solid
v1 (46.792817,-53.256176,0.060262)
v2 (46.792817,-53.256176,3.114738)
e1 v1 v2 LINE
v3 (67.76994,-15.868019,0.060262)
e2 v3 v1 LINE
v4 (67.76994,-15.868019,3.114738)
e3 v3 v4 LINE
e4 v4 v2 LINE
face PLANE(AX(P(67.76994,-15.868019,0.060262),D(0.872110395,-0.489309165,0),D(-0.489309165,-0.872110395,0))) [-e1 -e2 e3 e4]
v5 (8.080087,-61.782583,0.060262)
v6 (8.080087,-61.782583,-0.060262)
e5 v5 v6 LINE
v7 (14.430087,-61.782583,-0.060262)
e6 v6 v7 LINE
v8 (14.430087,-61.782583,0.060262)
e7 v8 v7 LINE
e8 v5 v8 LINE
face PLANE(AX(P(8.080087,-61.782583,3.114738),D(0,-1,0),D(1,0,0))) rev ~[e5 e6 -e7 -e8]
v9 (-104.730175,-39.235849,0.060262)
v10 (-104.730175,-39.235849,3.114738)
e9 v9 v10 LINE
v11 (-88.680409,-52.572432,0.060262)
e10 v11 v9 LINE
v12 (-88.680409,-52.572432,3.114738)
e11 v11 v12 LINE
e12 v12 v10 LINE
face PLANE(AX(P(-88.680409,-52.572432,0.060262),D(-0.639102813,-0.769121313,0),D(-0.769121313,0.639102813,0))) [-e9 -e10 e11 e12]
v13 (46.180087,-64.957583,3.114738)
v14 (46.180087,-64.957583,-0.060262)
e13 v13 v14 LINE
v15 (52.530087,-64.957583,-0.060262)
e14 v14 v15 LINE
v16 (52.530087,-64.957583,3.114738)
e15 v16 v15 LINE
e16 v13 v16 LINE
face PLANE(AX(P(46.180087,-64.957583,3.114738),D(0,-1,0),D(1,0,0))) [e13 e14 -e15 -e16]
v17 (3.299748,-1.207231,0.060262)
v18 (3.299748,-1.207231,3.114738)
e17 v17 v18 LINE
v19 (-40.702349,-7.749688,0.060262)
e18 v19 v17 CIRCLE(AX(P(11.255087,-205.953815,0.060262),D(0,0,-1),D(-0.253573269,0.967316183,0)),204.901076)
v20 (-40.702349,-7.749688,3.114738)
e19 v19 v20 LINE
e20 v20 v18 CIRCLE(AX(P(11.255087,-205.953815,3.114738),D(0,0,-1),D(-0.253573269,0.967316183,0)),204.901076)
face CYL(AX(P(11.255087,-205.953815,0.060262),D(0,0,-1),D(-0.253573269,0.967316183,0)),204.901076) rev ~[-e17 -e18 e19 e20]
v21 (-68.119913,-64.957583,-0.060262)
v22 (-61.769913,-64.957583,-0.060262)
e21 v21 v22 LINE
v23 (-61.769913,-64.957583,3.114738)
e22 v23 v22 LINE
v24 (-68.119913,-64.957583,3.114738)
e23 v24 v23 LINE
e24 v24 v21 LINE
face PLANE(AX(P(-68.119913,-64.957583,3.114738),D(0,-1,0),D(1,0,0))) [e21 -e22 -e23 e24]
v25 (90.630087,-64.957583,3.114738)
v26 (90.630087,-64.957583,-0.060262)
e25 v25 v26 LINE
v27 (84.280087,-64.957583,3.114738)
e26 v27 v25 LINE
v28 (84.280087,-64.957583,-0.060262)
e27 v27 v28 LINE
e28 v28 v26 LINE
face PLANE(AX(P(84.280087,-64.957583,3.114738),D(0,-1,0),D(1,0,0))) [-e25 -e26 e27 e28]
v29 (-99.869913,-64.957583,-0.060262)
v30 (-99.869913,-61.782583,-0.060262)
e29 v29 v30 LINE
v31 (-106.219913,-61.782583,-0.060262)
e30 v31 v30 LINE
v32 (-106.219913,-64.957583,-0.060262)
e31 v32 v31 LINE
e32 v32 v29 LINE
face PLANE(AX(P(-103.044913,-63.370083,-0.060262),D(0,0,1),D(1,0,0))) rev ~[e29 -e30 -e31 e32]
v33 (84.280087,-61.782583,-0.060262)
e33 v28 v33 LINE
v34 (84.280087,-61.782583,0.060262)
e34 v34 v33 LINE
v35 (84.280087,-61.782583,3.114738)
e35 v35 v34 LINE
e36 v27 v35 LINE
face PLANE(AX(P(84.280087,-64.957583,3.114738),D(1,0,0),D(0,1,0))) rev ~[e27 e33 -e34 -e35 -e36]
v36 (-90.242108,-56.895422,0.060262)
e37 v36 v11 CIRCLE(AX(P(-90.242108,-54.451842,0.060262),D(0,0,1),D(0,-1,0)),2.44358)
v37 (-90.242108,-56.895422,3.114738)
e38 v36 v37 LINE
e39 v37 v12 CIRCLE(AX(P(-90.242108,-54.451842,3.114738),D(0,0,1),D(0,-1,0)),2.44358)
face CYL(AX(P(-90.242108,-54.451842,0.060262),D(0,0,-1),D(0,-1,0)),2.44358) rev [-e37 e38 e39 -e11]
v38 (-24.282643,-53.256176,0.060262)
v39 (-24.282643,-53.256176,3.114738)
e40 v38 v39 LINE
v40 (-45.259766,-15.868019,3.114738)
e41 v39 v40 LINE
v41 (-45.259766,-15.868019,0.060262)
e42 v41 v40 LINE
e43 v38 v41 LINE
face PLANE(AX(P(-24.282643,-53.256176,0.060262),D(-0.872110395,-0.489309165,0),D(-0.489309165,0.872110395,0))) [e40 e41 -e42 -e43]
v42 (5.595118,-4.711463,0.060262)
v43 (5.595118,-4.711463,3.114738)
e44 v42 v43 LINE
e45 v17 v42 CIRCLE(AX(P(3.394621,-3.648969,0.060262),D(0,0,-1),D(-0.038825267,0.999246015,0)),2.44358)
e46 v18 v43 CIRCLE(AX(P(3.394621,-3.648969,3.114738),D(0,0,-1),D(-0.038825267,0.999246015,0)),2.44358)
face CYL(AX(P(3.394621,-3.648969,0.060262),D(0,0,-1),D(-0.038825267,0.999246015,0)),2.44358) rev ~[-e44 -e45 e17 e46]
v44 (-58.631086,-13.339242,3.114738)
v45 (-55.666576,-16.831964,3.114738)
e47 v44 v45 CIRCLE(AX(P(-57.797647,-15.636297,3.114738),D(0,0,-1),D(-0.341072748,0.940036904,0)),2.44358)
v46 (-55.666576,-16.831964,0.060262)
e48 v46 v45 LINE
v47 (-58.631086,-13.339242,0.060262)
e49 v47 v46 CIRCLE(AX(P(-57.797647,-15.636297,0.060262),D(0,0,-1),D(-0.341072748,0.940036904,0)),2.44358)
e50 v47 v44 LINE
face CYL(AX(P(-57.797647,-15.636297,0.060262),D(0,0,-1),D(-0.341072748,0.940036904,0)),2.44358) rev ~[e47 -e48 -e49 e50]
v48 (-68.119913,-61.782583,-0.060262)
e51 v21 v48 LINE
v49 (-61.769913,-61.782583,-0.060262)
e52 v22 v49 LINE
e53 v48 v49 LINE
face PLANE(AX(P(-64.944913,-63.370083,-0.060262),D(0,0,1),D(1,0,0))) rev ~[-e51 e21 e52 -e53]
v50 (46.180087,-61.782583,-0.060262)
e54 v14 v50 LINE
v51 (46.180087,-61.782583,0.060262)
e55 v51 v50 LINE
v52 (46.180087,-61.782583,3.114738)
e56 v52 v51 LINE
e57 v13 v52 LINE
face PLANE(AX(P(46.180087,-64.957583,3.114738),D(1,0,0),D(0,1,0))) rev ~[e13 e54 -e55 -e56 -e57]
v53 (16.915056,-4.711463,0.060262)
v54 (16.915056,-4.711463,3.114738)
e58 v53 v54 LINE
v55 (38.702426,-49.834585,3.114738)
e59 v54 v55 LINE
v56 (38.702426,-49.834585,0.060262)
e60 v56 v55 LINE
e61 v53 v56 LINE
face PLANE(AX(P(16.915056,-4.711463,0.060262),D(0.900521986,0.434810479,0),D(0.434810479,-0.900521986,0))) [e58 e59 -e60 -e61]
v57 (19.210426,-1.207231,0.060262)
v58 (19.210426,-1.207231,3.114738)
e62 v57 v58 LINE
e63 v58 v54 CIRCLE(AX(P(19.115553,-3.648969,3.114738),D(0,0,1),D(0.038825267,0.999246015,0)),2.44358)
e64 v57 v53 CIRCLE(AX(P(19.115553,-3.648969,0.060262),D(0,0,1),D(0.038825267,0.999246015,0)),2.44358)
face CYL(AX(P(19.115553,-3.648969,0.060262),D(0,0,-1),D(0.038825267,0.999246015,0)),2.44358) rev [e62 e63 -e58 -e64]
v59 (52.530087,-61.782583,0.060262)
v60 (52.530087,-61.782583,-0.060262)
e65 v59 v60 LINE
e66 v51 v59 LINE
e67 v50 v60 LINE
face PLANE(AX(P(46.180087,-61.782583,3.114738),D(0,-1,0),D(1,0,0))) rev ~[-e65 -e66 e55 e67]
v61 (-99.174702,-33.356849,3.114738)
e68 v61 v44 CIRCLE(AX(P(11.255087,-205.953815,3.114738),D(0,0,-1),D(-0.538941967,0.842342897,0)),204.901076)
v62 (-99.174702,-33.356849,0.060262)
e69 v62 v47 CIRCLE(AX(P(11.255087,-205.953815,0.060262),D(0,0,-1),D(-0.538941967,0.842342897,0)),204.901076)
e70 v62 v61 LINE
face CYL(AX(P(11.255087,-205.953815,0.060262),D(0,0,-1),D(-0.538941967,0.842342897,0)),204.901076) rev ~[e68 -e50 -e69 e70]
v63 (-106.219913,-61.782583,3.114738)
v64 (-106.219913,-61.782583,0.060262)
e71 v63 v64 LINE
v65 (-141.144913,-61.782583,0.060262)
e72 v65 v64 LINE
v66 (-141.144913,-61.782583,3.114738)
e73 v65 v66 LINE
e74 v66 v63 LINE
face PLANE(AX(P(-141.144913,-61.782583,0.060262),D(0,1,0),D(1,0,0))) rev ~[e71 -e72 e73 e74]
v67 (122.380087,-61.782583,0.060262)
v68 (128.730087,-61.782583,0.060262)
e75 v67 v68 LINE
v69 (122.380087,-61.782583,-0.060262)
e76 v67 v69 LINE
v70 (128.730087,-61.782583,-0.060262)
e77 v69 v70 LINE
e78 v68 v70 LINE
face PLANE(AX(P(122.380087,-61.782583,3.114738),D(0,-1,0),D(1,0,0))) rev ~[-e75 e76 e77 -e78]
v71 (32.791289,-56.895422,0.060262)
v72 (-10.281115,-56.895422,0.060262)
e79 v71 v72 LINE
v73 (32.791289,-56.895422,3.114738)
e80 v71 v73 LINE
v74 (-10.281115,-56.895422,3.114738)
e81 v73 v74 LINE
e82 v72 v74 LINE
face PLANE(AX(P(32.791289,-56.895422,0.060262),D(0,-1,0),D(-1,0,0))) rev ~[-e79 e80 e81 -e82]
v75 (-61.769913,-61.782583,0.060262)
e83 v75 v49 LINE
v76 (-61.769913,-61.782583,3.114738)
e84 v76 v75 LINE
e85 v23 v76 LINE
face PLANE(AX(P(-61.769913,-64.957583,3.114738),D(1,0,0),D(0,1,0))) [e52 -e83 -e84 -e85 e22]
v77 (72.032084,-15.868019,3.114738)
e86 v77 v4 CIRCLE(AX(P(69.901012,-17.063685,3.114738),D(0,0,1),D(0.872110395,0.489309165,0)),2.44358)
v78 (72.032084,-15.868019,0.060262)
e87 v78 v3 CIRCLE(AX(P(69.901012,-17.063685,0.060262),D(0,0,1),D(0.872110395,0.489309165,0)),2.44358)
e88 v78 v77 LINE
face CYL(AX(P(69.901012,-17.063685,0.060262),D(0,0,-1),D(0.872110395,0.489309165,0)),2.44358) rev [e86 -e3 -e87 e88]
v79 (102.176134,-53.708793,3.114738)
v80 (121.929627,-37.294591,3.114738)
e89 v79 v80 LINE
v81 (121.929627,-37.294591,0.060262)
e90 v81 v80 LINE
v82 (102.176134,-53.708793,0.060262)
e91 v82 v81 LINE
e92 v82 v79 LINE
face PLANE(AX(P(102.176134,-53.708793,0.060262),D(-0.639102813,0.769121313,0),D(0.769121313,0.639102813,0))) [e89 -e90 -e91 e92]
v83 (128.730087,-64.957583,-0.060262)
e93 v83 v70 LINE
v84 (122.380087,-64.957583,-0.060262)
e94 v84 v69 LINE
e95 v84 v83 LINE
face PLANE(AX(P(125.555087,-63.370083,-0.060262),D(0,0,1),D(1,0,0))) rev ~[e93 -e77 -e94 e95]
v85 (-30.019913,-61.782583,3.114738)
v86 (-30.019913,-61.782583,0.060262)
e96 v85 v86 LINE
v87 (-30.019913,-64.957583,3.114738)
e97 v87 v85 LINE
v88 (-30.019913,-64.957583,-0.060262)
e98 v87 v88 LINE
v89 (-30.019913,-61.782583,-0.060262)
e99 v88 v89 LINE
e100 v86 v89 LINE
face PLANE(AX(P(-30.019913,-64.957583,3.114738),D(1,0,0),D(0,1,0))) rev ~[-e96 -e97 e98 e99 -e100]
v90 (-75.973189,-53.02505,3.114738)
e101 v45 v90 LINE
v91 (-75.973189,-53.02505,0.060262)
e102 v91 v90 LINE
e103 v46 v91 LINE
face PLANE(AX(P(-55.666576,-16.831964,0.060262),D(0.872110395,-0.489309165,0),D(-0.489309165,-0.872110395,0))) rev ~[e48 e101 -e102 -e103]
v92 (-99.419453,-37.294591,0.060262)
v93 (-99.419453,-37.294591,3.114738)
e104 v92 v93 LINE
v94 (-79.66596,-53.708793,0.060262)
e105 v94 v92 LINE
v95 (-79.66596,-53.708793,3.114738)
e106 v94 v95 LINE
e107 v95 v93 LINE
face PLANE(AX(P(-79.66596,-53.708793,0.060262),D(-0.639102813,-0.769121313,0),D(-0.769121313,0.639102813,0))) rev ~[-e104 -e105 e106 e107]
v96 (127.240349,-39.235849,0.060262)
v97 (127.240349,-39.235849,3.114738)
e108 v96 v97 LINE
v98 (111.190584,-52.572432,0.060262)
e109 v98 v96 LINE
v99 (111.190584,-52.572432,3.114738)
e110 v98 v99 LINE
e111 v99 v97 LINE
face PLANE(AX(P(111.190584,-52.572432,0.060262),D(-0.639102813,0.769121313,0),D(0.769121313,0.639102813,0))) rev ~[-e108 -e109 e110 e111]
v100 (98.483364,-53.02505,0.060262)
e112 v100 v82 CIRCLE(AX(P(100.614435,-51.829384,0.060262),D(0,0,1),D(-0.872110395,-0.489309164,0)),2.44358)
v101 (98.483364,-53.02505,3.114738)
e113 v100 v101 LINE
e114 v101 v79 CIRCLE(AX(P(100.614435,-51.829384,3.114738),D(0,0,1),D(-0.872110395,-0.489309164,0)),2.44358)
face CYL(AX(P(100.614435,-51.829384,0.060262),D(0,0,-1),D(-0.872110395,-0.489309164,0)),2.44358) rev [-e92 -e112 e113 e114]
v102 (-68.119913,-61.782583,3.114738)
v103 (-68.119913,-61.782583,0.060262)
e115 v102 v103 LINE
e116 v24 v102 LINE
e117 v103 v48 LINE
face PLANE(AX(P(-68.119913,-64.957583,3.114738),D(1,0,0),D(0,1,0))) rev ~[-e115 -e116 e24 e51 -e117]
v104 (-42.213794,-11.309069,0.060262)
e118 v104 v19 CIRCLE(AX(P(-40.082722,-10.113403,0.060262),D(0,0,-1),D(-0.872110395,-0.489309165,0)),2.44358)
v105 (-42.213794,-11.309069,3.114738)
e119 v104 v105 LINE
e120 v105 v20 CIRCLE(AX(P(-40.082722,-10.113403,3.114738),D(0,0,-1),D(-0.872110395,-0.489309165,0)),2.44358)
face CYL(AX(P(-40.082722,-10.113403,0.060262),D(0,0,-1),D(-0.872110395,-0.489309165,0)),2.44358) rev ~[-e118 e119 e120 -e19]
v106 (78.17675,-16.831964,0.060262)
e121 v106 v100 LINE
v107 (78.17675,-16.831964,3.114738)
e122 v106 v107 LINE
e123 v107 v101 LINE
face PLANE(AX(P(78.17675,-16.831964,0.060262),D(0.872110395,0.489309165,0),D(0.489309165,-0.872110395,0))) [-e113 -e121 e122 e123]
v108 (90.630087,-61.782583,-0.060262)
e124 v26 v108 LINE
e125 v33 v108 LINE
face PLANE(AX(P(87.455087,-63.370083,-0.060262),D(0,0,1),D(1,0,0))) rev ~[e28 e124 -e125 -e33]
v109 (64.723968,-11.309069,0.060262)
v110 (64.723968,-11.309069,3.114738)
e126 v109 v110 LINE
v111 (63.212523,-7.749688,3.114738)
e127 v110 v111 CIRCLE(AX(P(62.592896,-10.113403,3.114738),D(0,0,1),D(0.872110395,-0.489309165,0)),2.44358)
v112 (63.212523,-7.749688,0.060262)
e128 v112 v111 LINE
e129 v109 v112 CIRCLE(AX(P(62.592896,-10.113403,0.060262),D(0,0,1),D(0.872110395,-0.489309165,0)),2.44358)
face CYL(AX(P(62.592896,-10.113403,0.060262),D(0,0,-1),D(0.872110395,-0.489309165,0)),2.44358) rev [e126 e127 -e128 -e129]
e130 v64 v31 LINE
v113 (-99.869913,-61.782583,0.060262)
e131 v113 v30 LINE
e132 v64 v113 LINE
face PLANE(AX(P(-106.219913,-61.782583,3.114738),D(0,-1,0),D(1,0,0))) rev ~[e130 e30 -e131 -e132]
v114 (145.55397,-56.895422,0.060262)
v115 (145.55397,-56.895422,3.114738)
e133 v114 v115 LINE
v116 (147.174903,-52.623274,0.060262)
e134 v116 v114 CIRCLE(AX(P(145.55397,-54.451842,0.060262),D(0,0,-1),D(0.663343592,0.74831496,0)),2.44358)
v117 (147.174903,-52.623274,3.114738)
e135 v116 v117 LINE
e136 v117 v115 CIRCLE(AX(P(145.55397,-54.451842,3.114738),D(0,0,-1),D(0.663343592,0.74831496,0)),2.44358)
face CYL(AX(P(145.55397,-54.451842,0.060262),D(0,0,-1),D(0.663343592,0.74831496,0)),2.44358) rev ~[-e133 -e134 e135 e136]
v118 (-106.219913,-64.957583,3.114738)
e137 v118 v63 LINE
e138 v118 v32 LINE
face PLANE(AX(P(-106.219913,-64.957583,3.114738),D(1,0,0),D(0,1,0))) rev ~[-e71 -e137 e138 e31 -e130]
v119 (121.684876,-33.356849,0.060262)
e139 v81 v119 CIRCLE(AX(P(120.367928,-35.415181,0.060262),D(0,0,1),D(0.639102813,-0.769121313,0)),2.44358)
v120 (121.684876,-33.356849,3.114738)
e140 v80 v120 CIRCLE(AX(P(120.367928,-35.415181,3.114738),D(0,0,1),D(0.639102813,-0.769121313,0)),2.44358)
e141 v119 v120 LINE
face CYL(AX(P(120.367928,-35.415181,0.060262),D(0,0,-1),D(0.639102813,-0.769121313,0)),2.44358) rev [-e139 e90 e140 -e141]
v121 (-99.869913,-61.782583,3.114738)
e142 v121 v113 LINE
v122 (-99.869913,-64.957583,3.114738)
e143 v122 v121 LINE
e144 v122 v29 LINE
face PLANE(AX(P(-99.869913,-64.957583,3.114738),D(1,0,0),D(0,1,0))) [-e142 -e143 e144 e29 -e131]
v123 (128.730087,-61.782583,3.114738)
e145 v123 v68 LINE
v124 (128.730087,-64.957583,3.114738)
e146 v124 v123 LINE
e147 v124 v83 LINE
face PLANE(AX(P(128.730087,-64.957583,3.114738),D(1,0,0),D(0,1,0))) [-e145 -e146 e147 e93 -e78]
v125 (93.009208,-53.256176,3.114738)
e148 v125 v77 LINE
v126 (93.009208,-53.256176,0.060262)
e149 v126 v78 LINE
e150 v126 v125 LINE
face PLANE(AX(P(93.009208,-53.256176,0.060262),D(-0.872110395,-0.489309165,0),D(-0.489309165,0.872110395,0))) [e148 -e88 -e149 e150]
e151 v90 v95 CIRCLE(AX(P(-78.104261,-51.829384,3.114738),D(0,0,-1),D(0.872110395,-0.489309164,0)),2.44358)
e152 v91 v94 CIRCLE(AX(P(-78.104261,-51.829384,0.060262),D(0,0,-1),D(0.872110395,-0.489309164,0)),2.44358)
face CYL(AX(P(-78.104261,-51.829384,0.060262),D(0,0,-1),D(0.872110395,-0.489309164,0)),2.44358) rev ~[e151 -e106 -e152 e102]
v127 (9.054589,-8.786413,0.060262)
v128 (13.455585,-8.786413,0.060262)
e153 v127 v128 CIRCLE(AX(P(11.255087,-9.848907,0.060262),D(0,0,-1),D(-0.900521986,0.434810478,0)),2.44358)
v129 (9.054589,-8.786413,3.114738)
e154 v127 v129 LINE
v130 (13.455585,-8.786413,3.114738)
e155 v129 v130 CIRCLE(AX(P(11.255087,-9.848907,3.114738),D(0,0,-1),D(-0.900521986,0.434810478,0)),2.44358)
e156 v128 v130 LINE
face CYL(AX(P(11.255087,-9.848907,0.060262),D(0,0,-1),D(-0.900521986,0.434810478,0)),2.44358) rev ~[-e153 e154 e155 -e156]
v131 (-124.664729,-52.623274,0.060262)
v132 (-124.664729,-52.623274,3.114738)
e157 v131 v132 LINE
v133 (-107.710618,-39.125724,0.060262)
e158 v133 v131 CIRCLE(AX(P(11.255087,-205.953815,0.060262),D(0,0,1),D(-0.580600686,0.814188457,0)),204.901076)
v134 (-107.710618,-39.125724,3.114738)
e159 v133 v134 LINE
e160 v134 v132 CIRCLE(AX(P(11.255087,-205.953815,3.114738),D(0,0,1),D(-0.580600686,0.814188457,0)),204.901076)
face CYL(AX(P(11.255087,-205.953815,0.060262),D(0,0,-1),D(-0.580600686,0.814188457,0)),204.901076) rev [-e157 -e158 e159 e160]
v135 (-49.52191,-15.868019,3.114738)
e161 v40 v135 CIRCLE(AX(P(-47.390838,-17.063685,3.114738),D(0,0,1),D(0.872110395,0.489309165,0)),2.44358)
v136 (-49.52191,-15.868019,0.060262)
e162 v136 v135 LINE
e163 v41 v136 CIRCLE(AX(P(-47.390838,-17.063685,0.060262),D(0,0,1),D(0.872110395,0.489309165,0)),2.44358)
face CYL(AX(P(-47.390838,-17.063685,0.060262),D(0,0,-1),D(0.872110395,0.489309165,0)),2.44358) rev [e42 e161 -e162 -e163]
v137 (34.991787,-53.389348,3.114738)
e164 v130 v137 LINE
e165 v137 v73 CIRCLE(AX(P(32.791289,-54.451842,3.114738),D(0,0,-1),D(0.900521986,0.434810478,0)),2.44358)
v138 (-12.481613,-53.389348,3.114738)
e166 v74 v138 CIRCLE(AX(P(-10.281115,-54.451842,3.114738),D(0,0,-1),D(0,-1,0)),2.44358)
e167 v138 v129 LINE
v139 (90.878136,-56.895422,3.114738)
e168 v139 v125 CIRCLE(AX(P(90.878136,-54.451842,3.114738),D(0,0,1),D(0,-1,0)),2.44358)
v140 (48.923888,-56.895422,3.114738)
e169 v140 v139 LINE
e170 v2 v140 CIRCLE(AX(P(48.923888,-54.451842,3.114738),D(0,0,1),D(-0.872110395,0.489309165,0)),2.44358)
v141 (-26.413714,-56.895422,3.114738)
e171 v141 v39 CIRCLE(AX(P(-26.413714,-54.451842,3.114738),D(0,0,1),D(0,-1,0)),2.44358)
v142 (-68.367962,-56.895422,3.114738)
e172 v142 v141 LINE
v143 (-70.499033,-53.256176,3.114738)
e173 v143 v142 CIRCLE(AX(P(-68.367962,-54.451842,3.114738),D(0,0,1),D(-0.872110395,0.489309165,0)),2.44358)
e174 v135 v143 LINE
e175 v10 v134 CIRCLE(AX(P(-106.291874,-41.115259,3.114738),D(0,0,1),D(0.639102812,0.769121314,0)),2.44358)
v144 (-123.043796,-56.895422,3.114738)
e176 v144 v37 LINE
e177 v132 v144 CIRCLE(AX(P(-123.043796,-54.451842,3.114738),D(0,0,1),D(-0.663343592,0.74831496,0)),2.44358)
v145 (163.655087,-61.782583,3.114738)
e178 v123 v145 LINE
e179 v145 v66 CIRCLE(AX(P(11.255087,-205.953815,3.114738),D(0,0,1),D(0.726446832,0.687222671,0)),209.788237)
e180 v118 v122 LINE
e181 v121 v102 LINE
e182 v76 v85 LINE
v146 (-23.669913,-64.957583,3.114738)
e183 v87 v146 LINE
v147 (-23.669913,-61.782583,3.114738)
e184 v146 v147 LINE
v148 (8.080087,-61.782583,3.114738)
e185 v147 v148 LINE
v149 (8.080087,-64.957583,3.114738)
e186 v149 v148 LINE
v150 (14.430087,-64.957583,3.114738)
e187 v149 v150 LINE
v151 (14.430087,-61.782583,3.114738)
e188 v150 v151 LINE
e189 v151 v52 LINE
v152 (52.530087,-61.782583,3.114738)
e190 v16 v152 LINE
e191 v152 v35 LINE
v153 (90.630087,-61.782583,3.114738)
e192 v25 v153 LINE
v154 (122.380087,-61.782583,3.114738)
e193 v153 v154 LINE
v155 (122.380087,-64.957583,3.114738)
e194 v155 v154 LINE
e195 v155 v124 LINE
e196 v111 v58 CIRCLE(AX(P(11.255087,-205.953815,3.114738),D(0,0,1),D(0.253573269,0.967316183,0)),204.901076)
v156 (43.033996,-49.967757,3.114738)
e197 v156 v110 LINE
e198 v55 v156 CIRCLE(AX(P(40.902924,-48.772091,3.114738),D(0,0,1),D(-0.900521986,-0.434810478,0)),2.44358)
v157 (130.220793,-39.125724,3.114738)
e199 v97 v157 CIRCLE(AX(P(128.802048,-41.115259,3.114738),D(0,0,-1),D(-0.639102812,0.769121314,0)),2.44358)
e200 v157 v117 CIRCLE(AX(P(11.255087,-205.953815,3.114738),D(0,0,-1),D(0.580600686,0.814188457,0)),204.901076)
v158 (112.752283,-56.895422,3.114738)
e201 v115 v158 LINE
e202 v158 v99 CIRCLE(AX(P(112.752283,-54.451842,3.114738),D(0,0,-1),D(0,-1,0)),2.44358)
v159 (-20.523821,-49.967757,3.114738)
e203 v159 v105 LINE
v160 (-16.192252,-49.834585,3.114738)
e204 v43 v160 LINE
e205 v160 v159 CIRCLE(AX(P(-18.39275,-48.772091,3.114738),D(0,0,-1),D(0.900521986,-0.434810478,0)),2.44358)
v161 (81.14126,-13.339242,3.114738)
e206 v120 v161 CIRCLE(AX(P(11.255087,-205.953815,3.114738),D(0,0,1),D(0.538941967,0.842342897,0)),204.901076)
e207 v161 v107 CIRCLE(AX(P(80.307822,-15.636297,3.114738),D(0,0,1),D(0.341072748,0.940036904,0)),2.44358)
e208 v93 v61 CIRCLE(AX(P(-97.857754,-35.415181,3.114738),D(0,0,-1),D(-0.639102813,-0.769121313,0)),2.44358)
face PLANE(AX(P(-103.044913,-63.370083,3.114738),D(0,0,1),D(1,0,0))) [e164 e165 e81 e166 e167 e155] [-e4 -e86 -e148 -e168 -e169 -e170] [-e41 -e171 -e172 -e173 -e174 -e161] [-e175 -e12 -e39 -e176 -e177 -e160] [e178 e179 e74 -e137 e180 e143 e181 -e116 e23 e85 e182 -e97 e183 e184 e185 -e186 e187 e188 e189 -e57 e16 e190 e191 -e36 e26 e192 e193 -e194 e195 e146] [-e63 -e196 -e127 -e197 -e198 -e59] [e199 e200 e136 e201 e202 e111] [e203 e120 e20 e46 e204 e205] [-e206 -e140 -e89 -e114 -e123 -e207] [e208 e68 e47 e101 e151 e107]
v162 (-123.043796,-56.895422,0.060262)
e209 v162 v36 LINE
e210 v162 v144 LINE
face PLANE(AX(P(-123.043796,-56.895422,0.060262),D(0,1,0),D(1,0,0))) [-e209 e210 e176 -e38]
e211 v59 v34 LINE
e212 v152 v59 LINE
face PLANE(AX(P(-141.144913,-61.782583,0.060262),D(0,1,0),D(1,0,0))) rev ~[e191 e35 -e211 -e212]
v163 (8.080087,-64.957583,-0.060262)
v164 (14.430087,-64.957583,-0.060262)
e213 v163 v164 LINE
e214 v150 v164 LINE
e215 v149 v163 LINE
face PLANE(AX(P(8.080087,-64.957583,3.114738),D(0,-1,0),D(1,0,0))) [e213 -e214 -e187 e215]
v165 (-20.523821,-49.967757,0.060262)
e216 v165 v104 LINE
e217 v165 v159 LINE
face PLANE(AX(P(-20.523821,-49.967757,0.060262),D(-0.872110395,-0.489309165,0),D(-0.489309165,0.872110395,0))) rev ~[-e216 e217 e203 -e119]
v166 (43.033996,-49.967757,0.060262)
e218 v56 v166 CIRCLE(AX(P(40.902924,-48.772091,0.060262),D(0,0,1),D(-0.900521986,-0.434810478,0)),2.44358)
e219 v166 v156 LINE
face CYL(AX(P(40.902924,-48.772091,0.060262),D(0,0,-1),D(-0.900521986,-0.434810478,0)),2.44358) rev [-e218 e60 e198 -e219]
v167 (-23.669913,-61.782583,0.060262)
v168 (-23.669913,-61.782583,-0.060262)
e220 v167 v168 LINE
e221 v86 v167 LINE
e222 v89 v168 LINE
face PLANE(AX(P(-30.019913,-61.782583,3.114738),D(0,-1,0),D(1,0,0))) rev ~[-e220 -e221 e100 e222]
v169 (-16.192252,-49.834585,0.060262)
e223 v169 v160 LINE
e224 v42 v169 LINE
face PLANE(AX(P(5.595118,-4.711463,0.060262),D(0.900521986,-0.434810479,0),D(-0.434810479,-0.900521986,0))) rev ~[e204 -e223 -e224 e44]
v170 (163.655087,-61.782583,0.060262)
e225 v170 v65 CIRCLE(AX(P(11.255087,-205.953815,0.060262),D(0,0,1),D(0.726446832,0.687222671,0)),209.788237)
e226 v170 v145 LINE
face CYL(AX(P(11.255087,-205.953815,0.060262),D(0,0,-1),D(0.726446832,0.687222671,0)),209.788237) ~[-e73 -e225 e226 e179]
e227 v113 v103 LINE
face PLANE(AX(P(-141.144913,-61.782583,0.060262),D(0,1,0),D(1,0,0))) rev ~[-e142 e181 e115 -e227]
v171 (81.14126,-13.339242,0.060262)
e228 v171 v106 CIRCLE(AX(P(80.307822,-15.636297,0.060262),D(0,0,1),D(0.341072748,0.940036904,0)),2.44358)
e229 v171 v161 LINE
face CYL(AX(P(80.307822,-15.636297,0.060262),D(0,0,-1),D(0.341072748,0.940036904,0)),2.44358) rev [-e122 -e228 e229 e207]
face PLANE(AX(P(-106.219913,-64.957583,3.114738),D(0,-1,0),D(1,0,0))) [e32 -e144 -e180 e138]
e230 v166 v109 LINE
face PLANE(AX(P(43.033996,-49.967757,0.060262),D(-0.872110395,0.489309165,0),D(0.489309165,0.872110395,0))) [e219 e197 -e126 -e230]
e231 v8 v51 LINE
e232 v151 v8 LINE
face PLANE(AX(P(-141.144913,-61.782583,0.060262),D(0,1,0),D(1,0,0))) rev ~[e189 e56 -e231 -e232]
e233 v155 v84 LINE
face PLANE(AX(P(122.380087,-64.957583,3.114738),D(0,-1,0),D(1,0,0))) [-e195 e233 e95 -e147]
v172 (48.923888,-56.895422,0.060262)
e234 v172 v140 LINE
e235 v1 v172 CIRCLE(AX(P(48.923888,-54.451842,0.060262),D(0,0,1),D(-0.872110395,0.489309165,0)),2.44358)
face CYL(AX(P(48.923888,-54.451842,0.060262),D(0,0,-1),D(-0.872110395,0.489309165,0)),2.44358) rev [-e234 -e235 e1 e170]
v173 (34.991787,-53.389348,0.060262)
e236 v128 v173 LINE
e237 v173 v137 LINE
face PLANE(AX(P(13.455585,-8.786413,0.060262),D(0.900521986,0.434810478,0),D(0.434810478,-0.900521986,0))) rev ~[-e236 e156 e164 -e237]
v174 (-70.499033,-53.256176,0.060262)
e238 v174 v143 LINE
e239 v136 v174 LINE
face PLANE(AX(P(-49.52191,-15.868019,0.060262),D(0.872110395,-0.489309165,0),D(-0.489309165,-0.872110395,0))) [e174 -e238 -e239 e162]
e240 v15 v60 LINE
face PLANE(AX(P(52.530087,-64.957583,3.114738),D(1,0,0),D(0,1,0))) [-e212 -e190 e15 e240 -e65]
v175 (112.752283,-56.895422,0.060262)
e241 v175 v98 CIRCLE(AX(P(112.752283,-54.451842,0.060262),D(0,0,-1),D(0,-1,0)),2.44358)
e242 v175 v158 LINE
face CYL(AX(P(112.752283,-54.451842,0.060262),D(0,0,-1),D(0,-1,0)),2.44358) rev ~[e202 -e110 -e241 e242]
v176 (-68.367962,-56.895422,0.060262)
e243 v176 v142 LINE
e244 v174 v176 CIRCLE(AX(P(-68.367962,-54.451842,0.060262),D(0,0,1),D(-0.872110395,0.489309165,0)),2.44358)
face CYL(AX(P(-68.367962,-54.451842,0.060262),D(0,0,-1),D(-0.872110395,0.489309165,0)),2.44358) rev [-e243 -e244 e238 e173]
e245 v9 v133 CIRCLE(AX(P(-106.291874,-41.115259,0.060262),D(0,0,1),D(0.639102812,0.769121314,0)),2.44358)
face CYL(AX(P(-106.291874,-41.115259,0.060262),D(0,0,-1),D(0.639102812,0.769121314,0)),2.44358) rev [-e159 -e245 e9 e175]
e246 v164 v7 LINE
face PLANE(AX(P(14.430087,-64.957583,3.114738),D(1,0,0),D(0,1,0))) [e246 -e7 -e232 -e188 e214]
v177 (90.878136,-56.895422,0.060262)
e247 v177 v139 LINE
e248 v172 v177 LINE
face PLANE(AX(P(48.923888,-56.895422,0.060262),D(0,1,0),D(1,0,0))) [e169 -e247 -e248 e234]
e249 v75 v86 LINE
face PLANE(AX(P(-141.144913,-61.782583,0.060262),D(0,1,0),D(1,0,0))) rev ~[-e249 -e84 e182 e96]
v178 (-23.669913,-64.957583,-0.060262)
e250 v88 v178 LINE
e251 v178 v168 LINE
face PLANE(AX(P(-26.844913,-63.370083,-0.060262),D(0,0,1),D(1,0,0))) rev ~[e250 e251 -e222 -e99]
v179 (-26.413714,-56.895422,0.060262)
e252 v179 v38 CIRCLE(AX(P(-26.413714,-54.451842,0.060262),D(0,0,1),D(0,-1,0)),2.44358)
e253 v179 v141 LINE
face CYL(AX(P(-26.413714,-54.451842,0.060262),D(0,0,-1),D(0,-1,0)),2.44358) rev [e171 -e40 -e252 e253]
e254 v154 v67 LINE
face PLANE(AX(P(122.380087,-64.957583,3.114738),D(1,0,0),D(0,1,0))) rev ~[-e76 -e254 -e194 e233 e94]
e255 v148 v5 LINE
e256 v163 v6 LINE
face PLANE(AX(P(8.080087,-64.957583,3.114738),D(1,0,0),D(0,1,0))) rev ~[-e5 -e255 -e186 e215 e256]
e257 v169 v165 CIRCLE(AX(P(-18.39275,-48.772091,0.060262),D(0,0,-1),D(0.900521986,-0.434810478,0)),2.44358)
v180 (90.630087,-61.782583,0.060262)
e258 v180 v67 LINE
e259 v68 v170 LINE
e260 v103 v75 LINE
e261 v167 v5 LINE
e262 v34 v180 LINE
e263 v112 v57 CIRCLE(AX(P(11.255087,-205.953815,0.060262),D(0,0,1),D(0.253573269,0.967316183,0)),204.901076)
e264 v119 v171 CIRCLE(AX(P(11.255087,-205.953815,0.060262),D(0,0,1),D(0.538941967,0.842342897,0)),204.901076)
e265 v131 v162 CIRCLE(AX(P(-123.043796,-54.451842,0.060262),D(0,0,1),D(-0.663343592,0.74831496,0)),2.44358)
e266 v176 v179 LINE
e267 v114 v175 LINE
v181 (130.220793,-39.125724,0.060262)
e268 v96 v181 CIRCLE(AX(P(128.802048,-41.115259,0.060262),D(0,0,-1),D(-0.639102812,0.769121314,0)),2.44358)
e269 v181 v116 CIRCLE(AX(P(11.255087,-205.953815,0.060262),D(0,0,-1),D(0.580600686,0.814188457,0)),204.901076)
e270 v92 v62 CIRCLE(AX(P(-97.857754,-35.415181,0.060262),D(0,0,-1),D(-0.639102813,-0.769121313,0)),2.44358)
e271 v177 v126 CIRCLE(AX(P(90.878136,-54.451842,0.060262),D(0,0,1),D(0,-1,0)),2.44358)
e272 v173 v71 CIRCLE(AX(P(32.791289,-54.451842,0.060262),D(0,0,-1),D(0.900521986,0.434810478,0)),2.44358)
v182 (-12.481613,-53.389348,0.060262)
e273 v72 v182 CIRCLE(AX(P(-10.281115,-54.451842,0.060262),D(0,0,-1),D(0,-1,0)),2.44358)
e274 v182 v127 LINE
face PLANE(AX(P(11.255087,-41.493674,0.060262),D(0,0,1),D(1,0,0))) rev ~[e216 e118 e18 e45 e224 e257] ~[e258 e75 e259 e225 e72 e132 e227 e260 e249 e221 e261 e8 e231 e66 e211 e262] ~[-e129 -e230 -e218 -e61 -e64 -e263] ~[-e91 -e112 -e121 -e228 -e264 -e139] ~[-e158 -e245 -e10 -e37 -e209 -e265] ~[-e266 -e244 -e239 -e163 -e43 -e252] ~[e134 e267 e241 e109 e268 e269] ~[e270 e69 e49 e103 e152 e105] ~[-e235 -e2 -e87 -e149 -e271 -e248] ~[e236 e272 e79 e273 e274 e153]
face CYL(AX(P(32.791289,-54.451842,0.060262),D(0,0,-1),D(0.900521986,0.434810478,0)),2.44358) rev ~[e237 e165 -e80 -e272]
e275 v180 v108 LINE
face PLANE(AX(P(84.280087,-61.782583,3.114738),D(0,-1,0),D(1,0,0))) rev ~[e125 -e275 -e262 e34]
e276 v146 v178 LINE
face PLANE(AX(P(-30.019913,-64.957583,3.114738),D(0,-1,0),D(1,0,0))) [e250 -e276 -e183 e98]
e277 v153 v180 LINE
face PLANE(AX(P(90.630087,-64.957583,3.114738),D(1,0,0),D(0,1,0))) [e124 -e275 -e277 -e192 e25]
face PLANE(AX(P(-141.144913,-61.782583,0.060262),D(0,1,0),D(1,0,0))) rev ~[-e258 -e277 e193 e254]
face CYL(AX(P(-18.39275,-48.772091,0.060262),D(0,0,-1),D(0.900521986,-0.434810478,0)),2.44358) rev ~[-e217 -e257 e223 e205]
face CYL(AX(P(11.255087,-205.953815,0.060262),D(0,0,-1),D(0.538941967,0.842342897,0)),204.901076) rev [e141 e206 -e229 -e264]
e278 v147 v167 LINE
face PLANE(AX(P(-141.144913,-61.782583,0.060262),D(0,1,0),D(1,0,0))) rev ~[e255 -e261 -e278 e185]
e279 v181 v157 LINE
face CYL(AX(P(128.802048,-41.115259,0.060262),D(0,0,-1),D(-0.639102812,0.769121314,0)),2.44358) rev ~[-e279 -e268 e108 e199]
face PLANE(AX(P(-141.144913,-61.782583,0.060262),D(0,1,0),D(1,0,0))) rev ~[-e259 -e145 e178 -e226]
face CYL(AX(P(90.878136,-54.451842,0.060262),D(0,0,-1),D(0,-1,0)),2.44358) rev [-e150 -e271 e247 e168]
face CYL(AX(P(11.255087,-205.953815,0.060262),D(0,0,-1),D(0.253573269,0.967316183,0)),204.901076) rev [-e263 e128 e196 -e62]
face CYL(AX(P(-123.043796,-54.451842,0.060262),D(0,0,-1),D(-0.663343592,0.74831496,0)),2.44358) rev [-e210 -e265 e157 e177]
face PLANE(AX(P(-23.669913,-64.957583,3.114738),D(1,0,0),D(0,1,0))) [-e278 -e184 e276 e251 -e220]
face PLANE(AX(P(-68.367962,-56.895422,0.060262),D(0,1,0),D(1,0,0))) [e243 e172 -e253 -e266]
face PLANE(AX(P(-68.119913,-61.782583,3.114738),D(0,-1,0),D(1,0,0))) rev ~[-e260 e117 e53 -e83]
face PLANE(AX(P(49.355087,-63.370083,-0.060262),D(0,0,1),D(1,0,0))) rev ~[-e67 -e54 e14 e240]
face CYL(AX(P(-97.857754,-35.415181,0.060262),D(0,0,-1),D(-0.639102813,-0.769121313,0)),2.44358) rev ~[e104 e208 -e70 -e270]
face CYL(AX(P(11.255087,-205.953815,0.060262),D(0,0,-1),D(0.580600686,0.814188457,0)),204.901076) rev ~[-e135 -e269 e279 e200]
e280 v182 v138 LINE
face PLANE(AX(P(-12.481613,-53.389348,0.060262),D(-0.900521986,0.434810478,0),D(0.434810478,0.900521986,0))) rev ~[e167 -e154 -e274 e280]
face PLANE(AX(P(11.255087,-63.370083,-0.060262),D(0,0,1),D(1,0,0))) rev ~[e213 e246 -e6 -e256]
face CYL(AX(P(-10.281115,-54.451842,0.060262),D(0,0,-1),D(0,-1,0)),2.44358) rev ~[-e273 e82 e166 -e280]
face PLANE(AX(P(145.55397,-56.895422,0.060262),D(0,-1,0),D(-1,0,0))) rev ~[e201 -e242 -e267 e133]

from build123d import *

# Parameters (mm, degrees)
BOSS_EXTRUDE1_DEPTH = 3.175
SCALE2_SCALE        = 0.962039453
SKETCH2_W           = 6.35
SKETCH2_H           = 3.175
BOSS_EXTRUDE2_DEPTH = 3.175


with BuildPart() as part:
    # Sketch1 → Boss-Extrude1 (new body)
    with BuildSketch(Plane.XY):
        with BuildLine():
            Line((-147.158374537, -62.773274702), (169.668548728, -62.773274702))
            ThreePointArc((169.668548728, -62.773274702), (11.255087096, 5.432872204), (-147.158374537, -62.773274702))
        make_face()
        with BuildLine():
            Line((50.41023946, -57.693274702), (94.019934732, -57.693274702))
            ThreePointArc((94.019934732, -57.693274702), (96.211786347, -56.436780252), (96.235095135, -53.910429423))
            Line((96.235095135, -53.910429423), (74.430247499, -15.046995704))
            ThreePointArc((74.430247499, -15.046995704), (72.215087096, -13.749840983), (69.999926692, -15.046995704))
            Line((69.999926692, -15.046995704), (48.195079056, -53.910429423))
            ThreePointArc((48.195079056, -53.910429423), (48.218387844, -56.436780252), (50.41023946, -57.693274702))
        make_face(mode=Mode.SUBTRACT)
        with BuildLine():
            Line((105.763734274, -54.380906597), (126.29666869, -37.319025838))
            ThreePointArc((126.29666869, -37.319025838), (127.208455368, -35.207887623), (126.042260143, -33.225906744))
            ThreePointArc((126.042260143, -33.225906744), (105.546270909, -21.656125731), (83.898857508, -12.418436605))
            ThreePointArc((83.898857508, -12.418436605), (81.096030012, -13.162488886), (80.817372324, -16.048975619))
            Line((80.817372324, -16.048975619), (101.925252726, -53.670183739))
            ThreePointArc((101.925252726, -53.670183739), (103.677973758, -54.924887225), (105.763734274, -54.380906597))
        make_face(mode=Mode.SUBTRACT)
        with BuildLine():
            Line((44.287940881, -50.492254775), (66.833764967, -10.308156511))
            ThreePointArc((66.833764967, -10.308156511), (66.956550428, -8.072532741), (65.262680667, -6.608328129))
            ThreePointArc((65.262680667, -6.608328129), (42.578611895, -1.963069006), (19.524331112, 0.19228386))
            ThreePointArc((19.524331112, 0.19228386), (17.300963083, -0.95402892), (17.138389089, -3.450219634))
            Line((17.138389089, -3.450219634), (39.785454632, -50.353828112))
            ThreePointArc((39.785454632, -50.353828112), (41.994726342, -51.788209913), (44.287940881, -50.492254775))
        make_face(mode=Mode.SUBTRACT)
        with BuildLine():
            Line((-21.777766689, -50.492254775), (-44.323590776, -10.308156511))
            ThreePointArc((-44.323590776, -10.308156511), (-44.446376237, -8.072532741), (-42.752506476, -6.608328129))
            ThreePointArc((-42.752506476, -6.608328129), (-20.068437704, -1.963069006), (2.985843079, 0.19228386))
            ThreePointArc((2.985843079, 0.19228386), (5.209211108, -0.95402892), (5.371785102, -3.450219634))
            Line((5.371785102, -3.450219634), (-17.275280441, -50.353828112))
            ThreePointArc((-17.275280441, -50.353828112), (-19.484552151, -51.788209913), (-21.777766689, -50.492254775))
        make_face(mode=Mode.SUBTRACT)
        with BuildLine():
            Line((-58.307198133, -16.048975619), (-79.415078535, -53.670183739))
            ThreePointArc((-79.415078535, -53.670183739), (-81.167799567, -54.924887225), (-83.253560083, -54.380906597))
            Line((-83.253560083, -54.380906597), (-103.786494499, -37.319025838))
            ThreePointArc((-103.786494499, -37.319025838), (-104.698281177, -35.207887623), (-103.532085952, -33.225906744))
            ThreePointArc((-103.532085952, -33.225906744), (-83.036096718, -21.656125731), (-61.388683317, -12.418436605))
            ThreePointArc((-61.388683317, -12.418436605), (-58.585855821, -13.162488886), (-58.307198133, -16.048975619))
        make_face(mode=Mode.SUBTRACT)
        with BuildLine():
            Line((-128.343015855, -57.693274702), (-94.247026375, -57.693274702))
            ThreePointArc((-94.247026375, -57.693274702), (-91.858128819, -56.016274393), (-92.623705231, -53.199706566))
            Line((-92.623705231, -53.199706566), (-109.306769117, -39.336883017))
            ThreePointArc((-109.306769117, -39.336883017), (-110.836303138, -38.752183245), (-112.404816005, -39.222412473))
            ThreePointArc((-112.404816005, -39.222412473), (-121.401975006, -46.004337694), (-130.027908578, -53.252554703))
            ThreePointArc((-130.027908578, -53.252554703), (-130.717824142, -56.054321649), (-128.343015855, -57.693274702))
        make_face(mode=Mode.SUBTRACT)
        with BuildLine():
            Line((13.542412941, -7.685960278), (35.928399311, -54.048856086))
            ThreePointArc((35.928399311, -54.048856086), (35.792447827, -56.503529625), (33.641073466, -57.693274702))
            Line((33.641073466, -57.693274702), (-11.130899275, -57.693274702))
            ThreePointArc((-11.130899275, -57.693274702), (-13.282273636, -56.503529625), (-13.41822512, -54.048856086))
            Line((-13.41822512, -54.048856086), (8.96776125, -7.685960278))
            ThreePointArc((8.96776125, -7.685960278), (11.255087096, -6.250378893), (13.542412941, -7.685960278))
        make_face(mode=Mode.SUBTRACT)
        with BuildLine():
            Line((-25.684904865, -53.910429423), (-47.489752501, -15.046995704))
            ThreePointArc((-47.489752501, -15.046995704), (-49.704912904, -13.749840983), (-51.920073308, -15.046995704))
            Line((-51.920073308, -15.046995704), (-73.724920944, -53.910429423))
            ThreePointArc((-73.724920944, -53.910429423), (-73.701612156, -56.436780252), (-71.50976054, -57.693274702))
            Line((-71.50976054, -57.693274702), (-27.900065268, -57.693274702))
            ThreePointArc((-27.900065268, -57.693274702), (-25.708213653, -56.436780252), (-25.684904865, -53.910429423))
        make_face(mode=Mode.SUBTRACT)
        with BuildLine():
            Line((115.133879422, -53.199706566), (131.816943308, -39.336883017))
            ThreePointArc((131.816943308, -39.336883017), (133.346477329, -38.752183245), (134.914990196, -39.222412473))
            ThreePointArc((134.914990196, -39.222412473), (143.912149197, -46.004337694), (152.538082769, -53.252554703))
            ThreePointArc((152.538082769, -53.252554703), (153.227998333, -56.054321649), (150.853190046, -57.693274702))
            Line((150.853190046, -57.693274702), (116.757200566, -57.693274702))
            ThreePointArc((116.757200566, -57.693274702), (114.36830301, -56.016274393), (115.133879422, -53.199706566))
        make_face(mode=Mode.SUBTRACT)
    extrude(amount=BOSS_EXTRUDE1_DEPTH)


with BuildPart() as part_1:
    # Scale2: scaled about (11.255087096, -36.675334956, 1.5875)
    add(part.part.scale(SCALE2_SCALE).moved(Location((0.427249265, -1.392215783, 0.060262369))))

    # Sketch2 → Boss-Extrude2 (add)
    with BuildSketch(Plane.XY.offset(3.114737631)):
        with Locations((-103.044912854, -63.370082629)):
            Rectangle(SKETCH2_W, SKETCH2_H)
        with Locations((-64.944912854, -63.370082629)):
            Rectangle(SKETCH2_W, SKETCH2_H)
        with Locations((-26.844912854, -63.370082629)):
            Rectangle(SKETCH2_W, SKETCH2_H)
        with Locations((11.255087146, -63.370082629)):
            Rectangle(SKETCH2_W, SKETCH2_H)
        with Locations((49.355087146, -63.370082629)):
            Rectangle(SKETCH2_W, SKETCH2_H)
        with Locations((87.455087146, -63.370082629)):
            Rectangle(SKETCH2_W, SKETCH2_H)
        with Locations((125.555087146, -63.370082629)):
            Rectangle(SKETCH2_W, SKETCH2_H)
    extrude(amount=-BOSS_EXTRUDE2_DEPTH)


solid = part_1.part
